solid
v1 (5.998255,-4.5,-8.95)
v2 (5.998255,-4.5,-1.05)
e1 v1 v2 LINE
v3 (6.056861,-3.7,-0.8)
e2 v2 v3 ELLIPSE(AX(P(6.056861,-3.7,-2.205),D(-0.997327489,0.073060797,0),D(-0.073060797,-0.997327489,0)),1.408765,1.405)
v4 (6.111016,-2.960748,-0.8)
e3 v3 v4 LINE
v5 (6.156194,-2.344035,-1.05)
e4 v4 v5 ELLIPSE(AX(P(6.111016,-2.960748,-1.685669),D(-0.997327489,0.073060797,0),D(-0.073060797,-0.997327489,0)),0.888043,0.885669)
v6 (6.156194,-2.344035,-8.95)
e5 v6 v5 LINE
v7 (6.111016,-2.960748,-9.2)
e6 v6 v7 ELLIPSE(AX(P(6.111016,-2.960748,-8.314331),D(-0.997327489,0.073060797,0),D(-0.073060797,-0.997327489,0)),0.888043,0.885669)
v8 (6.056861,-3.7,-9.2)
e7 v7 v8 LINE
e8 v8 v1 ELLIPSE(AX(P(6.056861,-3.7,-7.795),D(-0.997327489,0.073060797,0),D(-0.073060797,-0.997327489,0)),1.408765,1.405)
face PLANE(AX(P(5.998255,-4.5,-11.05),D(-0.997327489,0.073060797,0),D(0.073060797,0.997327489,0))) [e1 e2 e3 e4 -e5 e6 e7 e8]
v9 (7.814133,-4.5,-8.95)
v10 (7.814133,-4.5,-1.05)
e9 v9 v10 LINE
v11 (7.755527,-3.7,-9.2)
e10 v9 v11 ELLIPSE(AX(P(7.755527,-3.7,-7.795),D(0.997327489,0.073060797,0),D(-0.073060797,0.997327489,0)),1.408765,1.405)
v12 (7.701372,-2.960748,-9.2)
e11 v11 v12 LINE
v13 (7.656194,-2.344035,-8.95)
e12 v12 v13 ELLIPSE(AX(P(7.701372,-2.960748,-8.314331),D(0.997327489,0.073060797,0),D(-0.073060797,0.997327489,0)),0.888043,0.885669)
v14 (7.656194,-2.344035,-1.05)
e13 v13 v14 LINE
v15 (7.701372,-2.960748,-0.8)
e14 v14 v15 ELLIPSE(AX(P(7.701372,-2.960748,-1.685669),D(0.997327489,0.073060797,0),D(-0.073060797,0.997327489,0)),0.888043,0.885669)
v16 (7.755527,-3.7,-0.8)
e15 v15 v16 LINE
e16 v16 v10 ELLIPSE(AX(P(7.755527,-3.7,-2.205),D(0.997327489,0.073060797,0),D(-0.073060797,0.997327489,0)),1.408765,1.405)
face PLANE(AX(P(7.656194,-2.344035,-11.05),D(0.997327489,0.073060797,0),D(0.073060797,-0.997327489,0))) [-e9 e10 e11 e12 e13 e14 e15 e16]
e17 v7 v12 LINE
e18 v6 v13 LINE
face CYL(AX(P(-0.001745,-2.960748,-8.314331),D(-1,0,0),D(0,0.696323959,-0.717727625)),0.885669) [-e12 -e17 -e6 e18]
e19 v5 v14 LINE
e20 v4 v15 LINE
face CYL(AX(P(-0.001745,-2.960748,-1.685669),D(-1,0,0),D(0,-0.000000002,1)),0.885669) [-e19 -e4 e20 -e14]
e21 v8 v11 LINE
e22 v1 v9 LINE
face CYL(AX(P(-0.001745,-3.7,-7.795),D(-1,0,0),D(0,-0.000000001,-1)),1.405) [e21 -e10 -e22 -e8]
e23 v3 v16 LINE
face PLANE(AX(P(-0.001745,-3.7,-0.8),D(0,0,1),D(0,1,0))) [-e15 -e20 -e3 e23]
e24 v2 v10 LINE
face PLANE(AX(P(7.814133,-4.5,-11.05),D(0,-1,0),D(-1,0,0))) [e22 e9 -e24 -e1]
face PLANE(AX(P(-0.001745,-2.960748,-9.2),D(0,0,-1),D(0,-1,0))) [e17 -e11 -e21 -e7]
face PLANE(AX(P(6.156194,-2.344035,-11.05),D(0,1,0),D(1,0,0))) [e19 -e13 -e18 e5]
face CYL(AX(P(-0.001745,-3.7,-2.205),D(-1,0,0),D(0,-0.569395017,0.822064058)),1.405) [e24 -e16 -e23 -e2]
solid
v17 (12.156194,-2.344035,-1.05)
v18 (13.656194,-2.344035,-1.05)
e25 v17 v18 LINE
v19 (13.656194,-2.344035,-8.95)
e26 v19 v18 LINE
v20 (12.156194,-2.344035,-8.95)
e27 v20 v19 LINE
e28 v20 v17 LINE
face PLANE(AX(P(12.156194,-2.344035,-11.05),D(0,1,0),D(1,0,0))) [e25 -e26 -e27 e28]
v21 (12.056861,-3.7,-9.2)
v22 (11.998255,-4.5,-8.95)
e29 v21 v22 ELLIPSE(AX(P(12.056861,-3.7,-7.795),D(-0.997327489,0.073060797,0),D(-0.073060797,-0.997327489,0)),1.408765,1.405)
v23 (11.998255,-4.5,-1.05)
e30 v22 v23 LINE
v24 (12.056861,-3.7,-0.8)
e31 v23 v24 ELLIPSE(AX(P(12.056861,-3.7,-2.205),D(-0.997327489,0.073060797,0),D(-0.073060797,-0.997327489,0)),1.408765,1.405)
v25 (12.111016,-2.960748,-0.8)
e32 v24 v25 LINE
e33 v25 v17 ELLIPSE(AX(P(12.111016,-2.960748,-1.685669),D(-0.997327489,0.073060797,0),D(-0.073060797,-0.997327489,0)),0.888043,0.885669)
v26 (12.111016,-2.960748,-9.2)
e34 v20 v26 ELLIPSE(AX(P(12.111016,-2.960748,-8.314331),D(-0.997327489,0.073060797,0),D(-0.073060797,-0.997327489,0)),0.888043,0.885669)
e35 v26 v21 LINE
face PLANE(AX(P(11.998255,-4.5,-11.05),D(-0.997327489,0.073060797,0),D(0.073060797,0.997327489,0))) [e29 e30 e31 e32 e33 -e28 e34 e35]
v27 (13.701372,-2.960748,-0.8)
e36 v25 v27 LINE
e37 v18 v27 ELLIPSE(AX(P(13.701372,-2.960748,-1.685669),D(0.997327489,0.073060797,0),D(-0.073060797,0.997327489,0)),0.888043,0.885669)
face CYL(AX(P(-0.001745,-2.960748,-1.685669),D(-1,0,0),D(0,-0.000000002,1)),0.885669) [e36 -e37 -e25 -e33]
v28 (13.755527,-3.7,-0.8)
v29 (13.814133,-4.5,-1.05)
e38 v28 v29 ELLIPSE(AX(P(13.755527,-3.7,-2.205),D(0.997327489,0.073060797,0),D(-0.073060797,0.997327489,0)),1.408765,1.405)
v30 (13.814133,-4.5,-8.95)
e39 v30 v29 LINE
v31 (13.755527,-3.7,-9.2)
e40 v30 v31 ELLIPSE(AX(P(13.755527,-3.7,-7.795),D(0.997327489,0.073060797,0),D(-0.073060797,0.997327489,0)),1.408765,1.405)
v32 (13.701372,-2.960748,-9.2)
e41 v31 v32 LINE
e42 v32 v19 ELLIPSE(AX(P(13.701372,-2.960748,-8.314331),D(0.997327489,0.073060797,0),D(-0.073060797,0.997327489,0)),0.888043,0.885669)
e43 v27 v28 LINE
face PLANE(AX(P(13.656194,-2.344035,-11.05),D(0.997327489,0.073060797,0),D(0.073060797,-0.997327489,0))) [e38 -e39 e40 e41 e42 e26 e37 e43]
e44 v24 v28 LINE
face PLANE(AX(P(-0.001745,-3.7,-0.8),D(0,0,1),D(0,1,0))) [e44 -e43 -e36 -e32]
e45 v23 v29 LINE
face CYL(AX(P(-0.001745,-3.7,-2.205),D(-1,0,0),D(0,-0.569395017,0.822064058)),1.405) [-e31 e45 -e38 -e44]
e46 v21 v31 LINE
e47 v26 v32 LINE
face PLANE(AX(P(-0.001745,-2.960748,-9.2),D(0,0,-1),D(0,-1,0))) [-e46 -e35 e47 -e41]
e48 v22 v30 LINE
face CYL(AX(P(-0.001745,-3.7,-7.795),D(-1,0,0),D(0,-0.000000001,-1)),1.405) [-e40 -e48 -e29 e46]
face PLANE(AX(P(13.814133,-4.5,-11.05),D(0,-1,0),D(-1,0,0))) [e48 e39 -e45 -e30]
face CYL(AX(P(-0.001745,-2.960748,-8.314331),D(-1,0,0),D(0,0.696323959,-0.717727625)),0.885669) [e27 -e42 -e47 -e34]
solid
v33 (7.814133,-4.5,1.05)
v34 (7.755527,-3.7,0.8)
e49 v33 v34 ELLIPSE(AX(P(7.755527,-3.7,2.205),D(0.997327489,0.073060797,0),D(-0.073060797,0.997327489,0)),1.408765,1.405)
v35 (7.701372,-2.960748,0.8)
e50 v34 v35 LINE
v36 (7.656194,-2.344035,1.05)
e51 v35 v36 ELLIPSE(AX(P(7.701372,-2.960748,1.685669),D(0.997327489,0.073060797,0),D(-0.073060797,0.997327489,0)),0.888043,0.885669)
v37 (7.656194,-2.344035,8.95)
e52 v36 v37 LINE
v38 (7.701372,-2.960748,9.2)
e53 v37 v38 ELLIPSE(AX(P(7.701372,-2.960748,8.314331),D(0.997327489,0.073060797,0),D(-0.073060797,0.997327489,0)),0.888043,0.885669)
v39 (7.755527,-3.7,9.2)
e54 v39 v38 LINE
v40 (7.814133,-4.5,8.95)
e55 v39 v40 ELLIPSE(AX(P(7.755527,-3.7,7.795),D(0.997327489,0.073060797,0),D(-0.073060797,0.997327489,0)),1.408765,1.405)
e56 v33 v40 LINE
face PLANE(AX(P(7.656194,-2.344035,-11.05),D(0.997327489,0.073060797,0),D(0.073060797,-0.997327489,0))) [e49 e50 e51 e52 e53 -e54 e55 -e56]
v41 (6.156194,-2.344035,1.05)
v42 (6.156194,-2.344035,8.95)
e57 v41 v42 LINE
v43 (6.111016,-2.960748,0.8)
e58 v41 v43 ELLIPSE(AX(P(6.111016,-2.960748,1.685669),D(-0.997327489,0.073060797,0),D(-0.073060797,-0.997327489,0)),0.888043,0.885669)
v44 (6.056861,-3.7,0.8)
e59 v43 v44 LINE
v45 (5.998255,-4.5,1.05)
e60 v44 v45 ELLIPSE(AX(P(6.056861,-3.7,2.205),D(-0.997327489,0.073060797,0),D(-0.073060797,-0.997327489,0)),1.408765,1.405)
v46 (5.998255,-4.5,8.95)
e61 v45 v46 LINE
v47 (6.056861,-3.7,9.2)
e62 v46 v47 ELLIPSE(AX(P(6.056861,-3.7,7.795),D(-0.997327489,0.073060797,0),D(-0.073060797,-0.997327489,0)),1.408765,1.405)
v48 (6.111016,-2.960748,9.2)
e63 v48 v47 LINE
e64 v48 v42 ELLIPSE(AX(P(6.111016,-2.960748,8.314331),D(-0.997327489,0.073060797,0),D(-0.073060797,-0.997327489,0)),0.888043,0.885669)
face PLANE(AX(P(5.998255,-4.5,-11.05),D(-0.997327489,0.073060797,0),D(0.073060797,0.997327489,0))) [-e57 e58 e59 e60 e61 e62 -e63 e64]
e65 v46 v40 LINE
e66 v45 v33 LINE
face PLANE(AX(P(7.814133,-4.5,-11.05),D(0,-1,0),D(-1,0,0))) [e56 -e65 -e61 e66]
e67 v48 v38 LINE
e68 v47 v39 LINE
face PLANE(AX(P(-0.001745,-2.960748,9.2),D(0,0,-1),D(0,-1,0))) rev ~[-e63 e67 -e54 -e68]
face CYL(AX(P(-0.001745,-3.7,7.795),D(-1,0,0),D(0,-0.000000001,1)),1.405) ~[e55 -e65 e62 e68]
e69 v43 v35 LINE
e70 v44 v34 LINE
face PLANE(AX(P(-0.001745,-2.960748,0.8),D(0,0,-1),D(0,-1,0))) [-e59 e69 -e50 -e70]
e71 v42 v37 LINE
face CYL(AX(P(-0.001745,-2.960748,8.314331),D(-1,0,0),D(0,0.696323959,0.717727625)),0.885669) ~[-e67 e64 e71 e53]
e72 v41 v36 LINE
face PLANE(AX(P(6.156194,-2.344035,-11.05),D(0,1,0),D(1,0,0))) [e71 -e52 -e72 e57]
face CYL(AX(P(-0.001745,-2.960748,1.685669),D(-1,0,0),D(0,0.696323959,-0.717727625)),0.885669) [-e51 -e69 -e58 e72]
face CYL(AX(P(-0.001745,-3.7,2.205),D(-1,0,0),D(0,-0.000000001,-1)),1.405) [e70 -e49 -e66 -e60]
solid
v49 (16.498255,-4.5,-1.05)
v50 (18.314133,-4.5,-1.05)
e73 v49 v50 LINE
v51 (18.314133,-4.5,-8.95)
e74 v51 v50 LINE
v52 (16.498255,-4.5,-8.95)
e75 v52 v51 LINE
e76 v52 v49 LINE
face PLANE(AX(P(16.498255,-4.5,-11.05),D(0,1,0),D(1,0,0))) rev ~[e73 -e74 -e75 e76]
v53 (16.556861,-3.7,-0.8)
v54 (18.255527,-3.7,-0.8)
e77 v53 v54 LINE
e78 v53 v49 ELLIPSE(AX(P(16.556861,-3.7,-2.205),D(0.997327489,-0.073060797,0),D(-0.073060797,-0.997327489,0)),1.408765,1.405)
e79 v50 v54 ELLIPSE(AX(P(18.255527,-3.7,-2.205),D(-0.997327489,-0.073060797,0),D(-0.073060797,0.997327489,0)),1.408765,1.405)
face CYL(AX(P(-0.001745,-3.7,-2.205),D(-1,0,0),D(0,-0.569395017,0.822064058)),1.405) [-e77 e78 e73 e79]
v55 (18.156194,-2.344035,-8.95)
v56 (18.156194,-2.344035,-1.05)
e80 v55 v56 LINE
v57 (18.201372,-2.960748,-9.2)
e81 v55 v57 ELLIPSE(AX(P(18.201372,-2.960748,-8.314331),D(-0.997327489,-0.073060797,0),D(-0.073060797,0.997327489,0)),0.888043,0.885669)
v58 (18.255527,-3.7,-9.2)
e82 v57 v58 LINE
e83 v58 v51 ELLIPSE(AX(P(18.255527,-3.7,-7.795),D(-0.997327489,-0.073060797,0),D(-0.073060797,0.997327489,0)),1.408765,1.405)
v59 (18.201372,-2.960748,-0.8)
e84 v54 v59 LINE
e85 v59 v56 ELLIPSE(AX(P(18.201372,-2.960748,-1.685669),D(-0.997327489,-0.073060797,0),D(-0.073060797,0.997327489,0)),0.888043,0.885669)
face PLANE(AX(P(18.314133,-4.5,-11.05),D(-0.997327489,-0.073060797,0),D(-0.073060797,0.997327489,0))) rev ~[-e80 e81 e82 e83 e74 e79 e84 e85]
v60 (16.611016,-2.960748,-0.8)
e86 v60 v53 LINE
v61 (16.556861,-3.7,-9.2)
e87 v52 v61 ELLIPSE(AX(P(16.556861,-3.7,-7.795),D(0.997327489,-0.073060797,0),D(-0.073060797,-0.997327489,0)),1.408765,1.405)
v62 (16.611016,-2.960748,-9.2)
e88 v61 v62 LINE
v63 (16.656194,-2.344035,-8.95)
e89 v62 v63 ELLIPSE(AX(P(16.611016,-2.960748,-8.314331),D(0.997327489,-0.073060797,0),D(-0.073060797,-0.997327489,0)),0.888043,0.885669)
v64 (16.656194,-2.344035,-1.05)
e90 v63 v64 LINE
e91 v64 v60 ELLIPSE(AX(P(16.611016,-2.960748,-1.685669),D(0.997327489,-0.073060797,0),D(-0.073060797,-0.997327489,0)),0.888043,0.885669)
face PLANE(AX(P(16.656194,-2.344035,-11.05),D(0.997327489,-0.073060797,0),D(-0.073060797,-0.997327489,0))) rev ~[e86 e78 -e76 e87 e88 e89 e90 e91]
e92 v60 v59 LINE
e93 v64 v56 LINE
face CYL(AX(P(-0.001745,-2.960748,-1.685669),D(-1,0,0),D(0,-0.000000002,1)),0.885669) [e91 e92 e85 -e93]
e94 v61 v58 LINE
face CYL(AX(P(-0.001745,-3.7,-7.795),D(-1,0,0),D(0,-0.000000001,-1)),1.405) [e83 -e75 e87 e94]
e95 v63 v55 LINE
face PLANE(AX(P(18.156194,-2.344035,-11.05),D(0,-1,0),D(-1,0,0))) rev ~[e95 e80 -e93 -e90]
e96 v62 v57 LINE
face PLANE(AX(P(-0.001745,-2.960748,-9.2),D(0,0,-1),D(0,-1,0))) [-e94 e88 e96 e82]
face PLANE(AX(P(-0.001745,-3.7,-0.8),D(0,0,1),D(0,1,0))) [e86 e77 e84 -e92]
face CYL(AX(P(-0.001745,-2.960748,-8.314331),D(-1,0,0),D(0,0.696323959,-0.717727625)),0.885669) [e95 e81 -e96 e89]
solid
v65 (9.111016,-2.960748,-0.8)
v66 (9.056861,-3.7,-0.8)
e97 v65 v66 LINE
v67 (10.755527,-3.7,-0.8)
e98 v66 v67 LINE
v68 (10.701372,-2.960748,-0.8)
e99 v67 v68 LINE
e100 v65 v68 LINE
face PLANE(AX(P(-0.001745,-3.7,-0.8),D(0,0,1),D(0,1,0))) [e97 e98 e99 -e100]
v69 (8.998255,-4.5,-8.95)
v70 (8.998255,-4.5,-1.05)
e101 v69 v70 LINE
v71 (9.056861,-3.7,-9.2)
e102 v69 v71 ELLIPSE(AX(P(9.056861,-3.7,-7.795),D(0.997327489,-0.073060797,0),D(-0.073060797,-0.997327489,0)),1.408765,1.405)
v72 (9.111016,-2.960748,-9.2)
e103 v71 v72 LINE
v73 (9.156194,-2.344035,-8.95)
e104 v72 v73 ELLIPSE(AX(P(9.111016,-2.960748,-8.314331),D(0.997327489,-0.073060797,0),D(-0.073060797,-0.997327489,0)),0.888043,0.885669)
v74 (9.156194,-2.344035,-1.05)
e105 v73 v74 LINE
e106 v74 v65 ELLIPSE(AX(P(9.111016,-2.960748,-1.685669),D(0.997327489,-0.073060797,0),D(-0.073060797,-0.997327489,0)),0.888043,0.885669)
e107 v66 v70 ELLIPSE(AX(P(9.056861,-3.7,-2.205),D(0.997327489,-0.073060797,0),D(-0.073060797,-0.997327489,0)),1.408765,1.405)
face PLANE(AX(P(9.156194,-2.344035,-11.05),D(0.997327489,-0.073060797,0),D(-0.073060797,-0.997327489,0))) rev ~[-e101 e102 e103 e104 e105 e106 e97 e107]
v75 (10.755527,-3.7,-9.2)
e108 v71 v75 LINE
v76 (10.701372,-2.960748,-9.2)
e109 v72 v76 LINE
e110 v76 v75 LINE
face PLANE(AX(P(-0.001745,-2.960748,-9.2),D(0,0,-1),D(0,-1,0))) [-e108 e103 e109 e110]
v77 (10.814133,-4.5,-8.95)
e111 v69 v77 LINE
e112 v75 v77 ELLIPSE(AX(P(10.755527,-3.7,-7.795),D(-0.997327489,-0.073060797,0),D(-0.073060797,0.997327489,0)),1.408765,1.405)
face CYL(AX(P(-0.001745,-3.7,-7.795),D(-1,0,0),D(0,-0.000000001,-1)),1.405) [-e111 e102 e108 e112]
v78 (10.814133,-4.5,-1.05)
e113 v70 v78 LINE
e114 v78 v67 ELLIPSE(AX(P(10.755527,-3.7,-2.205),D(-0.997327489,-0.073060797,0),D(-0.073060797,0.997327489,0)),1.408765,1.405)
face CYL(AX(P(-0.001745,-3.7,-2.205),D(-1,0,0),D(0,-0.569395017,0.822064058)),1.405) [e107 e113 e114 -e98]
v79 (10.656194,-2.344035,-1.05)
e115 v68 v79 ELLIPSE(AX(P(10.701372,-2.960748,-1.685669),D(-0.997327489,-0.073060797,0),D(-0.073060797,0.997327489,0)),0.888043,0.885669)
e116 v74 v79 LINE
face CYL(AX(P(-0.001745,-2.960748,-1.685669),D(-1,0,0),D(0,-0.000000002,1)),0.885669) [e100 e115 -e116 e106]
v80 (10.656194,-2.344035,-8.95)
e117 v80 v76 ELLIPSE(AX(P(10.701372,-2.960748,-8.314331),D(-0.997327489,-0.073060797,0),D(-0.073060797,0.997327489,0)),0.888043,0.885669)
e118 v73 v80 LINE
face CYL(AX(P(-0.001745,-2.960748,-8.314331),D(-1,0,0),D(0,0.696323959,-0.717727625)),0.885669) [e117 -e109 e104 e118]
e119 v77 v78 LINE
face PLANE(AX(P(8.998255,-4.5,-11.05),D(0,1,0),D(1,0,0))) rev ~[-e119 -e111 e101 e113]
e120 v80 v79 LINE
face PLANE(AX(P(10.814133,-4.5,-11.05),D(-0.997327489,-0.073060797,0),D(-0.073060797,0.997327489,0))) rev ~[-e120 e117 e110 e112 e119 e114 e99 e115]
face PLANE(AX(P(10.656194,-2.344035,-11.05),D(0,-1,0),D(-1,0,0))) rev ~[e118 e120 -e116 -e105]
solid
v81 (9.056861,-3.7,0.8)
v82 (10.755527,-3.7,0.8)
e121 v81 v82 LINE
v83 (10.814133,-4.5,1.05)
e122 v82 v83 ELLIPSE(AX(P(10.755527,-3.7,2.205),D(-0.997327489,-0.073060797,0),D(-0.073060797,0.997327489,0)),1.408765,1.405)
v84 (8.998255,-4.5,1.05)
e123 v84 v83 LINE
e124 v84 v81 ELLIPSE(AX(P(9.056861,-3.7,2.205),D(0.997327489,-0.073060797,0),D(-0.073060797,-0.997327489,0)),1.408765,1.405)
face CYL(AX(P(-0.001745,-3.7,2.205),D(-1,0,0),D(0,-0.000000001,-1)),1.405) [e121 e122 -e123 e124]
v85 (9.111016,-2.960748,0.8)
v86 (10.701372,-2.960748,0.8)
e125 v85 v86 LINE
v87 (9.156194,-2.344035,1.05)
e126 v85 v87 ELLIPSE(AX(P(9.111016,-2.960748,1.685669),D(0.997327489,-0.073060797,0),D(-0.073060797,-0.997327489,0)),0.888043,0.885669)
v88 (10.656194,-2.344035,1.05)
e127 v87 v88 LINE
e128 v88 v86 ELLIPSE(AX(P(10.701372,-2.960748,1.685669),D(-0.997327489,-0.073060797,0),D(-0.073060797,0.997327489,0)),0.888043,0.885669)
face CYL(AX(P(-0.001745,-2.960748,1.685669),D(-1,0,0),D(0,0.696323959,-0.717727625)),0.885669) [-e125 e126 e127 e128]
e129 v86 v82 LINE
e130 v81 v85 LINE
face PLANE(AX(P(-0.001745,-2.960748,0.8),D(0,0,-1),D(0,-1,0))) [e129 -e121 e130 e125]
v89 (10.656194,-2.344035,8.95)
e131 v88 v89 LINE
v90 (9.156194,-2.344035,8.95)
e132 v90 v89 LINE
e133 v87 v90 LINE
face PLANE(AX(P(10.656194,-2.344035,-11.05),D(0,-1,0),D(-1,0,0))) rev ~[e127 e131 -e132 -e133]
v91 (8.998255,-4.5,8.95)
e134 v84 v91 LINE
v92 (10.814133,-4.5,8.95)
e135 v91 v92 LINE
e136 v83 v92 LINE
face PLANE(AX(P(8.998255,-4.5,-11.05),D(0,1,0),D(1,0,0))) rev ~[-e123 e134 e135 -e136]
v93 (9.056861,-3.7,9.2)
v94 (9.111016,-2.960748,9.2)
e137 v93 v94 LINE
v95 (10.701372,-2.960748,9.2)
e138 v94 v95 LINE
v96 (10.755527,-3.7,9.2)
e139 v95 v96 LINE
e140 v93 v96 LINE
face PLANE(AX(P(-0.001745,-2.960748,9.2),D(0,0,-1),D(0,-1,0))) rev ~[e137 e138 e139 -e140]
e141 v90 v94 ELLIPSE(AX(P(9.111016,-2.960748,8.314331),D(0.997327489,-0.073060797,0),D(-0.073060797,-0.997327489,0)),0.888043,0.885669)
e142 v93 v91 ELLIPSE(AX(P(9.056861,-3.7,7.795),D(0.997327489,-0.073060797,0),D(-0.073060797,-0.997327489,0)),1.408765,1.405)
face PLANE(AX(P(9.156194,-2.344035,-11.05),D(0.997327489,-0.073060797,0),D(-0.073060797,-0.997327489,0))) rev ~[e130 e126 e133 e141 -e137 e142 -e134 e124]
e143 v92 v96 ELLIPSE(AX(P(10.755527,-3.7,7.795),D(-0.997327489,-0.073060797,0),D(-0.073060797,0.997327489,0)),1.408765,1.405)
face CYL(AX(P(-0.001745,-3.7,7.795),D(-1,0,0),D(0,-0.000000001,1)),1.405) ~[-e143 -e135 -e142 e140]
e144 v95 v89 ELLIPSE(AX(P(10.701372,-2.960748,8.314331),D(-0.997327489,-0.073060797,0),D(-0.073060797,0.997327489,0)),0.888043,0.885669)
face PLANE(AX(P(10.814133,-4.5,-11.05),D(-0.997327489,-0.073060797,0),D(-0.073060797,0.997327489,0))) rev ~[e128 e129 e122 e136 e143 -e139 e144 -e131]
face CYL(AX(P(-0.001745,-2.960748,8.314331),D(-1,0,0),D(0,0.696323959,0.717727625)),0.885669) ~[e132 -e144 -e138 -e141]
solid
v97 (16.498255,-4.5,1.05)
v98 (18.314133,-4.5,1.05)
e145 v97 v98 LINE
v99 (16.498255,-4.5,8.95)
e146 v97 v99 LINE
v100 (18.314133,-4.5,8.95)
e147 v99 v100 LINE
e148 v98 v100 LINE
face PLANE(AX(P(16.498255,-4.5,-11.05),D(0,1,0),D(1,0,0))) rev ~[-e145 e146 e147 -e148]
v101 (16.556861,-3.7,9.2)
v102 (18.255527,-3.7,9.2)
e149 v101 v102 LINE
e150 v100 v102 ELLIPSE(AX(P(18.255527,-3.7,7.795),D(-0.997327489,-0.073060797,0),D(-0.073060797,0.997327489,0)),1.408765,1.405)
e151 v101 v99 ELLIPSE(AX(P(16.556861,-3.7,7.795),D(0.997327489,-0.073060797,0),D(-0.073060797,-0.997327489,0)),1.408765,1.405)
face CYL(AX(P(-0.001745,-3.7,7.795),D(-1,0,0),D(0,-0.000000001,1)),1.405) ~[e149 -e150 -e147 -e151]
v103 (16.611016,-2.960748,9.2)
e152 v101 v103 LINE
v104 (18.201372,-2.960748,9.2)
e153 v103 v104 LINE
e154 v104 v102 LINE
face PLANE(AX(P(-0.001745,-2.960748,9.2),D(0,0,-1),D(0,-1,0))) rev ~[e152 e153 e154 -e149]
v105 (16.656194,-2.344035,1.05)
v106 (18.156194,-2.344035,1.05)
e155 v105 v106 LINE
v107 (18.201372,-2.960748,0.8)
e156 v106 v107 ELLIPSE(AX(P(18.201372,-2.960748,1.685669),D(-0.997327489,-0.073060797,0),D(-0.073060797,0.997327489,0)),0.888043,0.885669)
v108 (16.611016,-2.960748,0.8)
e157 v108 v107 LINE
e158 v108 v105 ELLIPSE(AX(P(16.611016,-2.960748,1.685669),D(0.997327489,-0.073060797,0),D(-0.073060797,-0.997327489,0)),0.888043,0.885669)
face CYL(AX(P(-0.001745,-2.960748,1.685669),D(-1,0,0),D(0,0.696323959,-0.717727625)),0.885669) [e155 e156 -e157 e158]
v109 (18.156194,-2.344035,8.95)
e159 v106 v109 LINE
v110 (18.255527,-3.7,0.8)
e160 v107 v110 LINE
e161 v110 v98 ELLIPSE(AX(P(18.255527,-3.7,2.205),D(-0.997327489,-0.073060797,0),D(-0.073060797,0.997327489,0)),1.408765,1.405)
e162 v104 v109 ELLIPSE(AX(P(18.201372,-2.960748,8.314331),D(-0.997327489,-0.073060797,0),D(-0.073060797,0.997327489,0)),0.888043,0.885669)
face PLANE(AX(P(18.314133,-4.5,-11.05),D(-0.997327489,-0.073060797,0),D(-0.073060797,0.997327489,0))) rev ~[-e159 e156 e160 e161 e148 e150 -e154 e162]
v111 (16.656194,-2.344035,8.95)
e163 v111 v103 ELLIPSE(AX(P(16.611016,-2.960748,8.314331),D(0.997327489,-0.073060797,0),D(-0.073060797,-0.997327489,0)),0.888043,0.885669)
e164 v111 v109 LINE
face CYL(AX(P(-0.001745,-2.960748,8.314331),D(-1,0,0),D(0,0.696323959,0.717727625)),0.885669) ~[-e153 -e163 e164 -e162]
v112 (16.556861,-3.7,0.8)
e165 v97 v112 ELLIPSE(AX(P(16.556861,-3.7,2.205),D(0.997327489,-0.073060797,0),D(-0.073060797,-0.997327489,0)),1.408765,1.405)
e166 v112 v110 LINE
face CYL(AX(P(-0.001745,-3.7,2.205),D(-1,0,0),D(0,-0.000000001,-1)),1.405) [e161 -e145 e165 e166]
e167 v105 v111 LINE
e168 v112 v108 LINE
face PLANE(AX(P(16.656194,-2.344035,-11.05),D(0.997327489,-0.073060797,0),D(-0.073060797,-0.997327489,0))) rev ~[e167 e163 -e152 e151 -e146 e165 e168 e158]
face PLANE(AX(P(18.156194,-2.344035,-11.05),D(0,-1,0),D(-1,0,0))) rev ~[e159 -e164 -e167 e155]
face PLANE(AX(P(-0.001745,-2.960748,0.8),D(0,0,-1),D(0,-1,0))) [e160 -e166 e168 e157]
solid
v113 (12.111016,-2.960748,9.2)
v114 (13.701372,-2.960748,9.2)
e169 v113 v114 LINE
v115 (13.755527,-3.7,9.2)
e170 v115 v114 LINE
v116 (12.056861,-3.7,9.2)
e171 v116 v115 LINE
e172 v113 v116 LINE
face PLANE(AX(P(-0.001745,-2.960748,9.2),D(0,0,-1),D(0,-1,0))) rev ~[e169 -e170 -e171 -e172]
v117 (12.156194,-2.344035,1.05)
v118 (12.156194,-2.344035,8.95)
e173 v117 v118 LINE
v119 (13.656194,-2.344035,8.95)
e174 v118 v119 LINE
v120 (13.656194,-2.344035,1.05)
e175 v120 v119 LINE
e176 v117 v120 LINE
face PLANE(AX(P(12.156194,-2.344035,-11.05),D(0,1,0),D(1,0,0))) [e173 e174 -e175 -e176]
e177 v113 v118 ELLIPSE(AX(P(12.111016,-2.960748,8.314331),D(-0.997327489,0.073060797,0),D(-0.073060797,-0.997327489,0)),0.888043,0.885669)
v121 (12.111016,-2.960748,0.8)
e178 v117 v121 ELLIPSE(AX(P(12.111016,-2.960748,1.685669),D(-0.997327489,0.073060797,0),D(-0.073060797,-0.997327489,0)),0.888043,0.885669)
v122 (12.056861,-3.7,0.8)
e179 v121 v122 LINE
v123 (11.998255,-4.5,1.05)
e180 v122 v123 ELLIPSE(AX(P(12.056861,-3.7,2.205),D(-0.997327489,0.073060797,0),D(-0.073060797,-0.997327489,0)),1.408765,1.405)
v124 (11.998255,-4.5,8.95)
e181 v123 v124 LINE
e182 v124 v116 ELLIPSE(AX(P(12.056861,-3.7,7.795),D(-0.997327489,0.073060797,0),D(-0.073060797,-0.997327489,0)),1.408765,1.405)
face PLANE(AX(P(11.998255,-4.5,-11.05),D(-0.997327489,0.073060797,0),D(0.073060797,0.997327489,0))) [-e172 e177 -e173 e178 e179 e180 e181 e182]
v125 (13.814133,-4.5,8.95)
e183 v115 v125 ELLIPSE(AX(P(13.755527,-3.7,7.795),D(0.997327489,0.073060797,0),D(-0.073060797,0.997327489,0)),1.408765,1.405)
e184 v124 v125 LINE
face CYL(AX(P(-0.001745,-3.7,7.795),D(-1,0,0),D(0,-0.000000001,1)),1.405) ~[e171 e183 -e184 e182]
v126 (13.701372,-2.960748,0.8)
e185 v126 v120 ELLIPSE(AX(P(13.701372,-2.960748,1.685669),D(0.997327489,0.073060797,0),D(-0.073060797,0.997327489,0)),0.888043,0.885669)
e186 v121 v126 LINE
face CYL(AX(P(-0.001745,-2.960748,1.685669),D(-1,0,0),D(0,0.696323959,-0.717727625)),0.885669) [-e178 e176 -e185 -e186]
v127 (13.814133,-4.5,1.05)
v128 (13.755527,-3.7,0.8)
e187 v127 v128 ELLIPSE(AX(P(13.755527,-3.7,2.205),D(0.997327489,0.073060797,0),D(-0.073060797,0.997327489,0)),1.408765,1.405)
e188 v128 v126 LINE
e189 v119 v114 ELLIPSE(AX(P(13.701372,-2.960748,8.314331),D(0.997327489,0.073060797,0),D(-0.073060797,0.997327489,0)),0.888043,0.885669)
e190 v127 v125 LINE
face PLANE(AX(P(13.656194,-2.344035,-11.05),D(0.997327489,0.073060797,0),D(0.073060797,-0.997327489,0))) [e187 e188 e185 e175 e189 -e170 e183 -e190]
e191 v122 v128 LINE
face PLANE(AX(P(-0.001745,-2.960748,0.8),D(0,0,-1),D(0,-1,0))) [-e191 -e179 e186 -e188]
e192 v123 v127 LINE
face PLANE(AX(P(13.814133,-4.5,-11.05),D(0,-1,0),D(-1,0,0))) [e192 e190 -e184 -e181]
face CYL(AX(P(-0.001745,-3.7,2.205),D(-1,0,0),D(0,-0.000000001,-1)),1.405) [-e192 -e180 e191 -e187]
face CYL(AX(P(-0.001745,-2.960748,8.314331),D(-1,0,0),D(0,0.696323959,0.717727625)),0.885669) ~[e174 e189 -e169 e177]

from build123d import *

# Parameters (mm, degrees)
BOSS_EXTRUDE1_START   = -11.05
BOSS_EXTRUDE1_DEPTH   = 22.1
BOSS_EXTRUDE1_2_DEPTH = 22.1
BOSS_EXTRUDE1_3_DEPTH = 22.1
BOSS_EXTRUDE1_4_DEPTH = 22.1
CUT_EXTRUDE5_START    = -0.001745
CUT_EXTRUDE5_DEPTH    = 22.859465734


with BuildPart() as part:
    # Sketch2 → Boss-Extrude1 (new body)
    with BuildSketch(Plane.XY.offset(BOSS_EXTRUDE1_START)):
        Polygon((5.998255481, -4.5), (6.156194078, -2.34403522), (7.656194078, -2.34403522), (7.814132676, -4.5), align=None)
    extrude(amount=BOSS_EXTRUDE1_DEPTH)


with BuildPart() as body_2:
    # Sketch2 → Boss-Extrude1 2 (new body)
    with BuildSketch(Plane.XY.offset(BOSS_EXTRUDE1_START)):
        Polygon((10.656194078, -2.34403522), (9.156194078, -2.34403522), (8.998255481, -4.5), (10.814132676, -4.5), align=None)
    extrude(amount=BOSS_EXTRUDE1_2_DEPTH)


with BuildPart() as body_3:
    # Sketch2 → Boss-Extrude1 3 (new body)
    with BuildSketch(Plane.XY.offset(BOSS_EXTRUDE1_START)):
        Polygon((12.156194078, -2.34403522), (13.656194078, -2.34403522), (13.814132676, -4.5), (11.998255481, -4.5), align=None)
    extrude(amount=BOSS_EXTRUDE1_3_DEPTH)


with BuildPart() as body_4:
    # Sketch2 → Boss-Extrude1 4 (new body)
    with BuildSketch(Plane.XY.offset(BOSS_EXTRUDE1_START)):
        Polygon((18.156194078, -2.34403522), (16.656194078, -2.34403522), (16.498255481, -4.5), (18.314132676, -4.5), align=None)
    extrude(amount=BOSS_EXTRUDE1_4_DEPTH)


with BuildPart() as cut_extrude5_tool:
    # Sketch3 → Cut-Extrude5 (new, through all)
    with BuildSketch(Plane(origin=(0, 0, 0), x_dir=(0, 0, -1), z_dir=(1, 0, 0)).offset(CUT_EXTRUDE5_START)):
        with BuildLine():
            Line((-8.95, -4.5), (-11.05, -4.5))
            Line((-11.05, -4.5), (-11.05, -2.34403522))
            Line((-11.05, -2.34403522), (-8.95, -2.34403522))
            ThreePointArc((-8.95, -2.34403522), (-9.135123882, -2.628018904), (-9.2, -2.960748033))
            Line((-9.2, -2.960748033), (-9.2, -3.7))
            ThreePointArc((-9.2, -3.7), (-9.136044369, -4.119076365), (-8.95, -4.5))
        make_face()
        with BuildLine():
            Line((-1.05, -4.5), (1.05, -4.5))
            ThreePointArc((1.05, -4.5), (0.863955631, -4.119076365), (0.8, -3.7))
            Line((0.8, -3.7), (0.8, -2.960748033))
            ThreePointArc((0.8, -2.960748033), (0.864876118, -2.628018904), (1.05, -2.34403522))
            Line((1.05, -2.34403522), (-1.05, -2.34403522))
            ThreePointArc((-1.05, -2.34403522), (-0.864876118, -2.628018904), (-0.8, -2.960748033))
            Line((-0.8, -2.960748033), (-0.8, -3.7))
            ThreePointArc((-0.8, -3.7), (-0.863955631, -4.119076365), (-1.05, -4.5))
        make_face()
        with BuildLine():
            Line((8.95, -4.5), (11.05, -4.5))
            Line((11.05, -4.5), (11.05, -2.34403522))
            Line((11.05, -2.34403522), (8.95, -2.34403522))
            ThreePointArc((8.95, -2.34403522), (9.135123882, -2.628018904), (9.2, -2.960748033))
            Line((9.2, -2.960748033), (9.2, -3.7))
            ThreePointArc((9.2, -3.7), (9.136044369, -4.119076365), (8.95, -4.5))
        make_face()
    extrude(amount=CUT_EXTRUDE5_DEPTH)


with BuildPart() as part_1:
    add(part.part)

    # Cut-Extrude5: cut by cut_extrude5_tool
    add(cut_extrude5_tool.part, mode=Mode.SUBTRACT)


with BuildPart() as body_2_1:
    add(body_2.part)

    # Cut-Extrude5: cut by cut_extrude5_tool
    add(cut_extrude5_tool.part, mode=Mode.SUBTRACT)


with BuildPart() as body_3_1:
    add(body_3.part)

    # Cut-Extrude5: cut by cut_extrude5_tool
    add(cut_extrude5_tool.part, mode=Mode.SUBTRACT)


with BuildPart() as body_4_1:
    add(body_4.part)

    # Cut-Extrude5: cut by cut_extrude5_tool
    add(cut_extrude5_tool.part, mode=Mode.SUBTRACT)


with BuildPart() as cut_extrude5_piece_1:
    # of the separate pieces the step leaves, piece 1, a body of its own (cut_extrude5_pieces)
    add(part_1.part.solids().sort_by_distance((6.056860741, -3.7, 0.8))[0])


with BuildPart() as cut_extrude5_piece_2:
    # of the separate pieces the step leaves, piece 2, a body of its own (cut_extrude5_pieces)
    add(part_1.part.solids().sort_by_distance((6.056860741, -3.7, -9.2))[0])


with BuildPart() as cut_extrude5_piece_1_of_body_2:
    # of the separate pieces the step leaves, piece 1, a body of its own (cut_extrude5_pieces_of_body_2)
    add(body_2_1.part.solids().sort_by_distance((9.156194078, -2.34403522, -8.95))[0])


with BuildPart() as cut_extrude5_piece_2_of_body_2:
    # of the separate pieces the step leaves, piece 2, a body of its own (cut_extrude5_pieces_of_body_2)
    add(body_2_1.part.solids().sort_by_distance((9.156194078, -2.34403522, 1.05))[0])


with BuildPart() as cut_extrude5_piece_1_of_body_3:
    # of the separate pieces the step leaves, piece 1, a body of its own (cut_extrude5_pieces_of_body_3)
    add(body_3_1.part.solids().sort_by_distance((12.156194078, -2.34403522, -8.95))[0])


with BuildPart() as cut_extrude5_piece_2_of_body_3:
    # of the separate pieces the step leaves, piece 2, a body of its own (cut_extrude5_pieces_of_body_3)
    add(body_3_1.part.solids().sort_by_distance((12.156194078, -2.34403522, 1.05))[0])


with BuildPart() as cut_extrude5_piece_1_of_body_4:
    # of the separate pieces the step leaves, piece 1, a body of its own (cut_extrude5_pieces_of_body_4)
    add(body_4_1.part.solids().sort_by_distance((16.656194078, -2.34403522, -8.95))[0])


with BuildPart() as cut_extrude5_piece_2_of_body_4:
    # of the separate pieces the step leaves, piece 2, a body of its own (cut_extrude5_pieces_of_body_4)
    add(body_4_1.part.solids().sort_by_distance((16.656194078, -2.34403522, 1.05))[0])


solid = Compound([cut_extrude5_piece_1.part, cut_extrude5_piece_2.part, cut_extrude5_piece_1_of_body_2.part, cut_extrude5_piece_2_of_body_2.part, cut_extrude5_piece_1_of_body_3.part, cut_extrude5_piece_2_of_body_3.part, cut_extrude5_piece_1_of_body_4.part, cut_extrude5_piece_2_of_body_4.part])
